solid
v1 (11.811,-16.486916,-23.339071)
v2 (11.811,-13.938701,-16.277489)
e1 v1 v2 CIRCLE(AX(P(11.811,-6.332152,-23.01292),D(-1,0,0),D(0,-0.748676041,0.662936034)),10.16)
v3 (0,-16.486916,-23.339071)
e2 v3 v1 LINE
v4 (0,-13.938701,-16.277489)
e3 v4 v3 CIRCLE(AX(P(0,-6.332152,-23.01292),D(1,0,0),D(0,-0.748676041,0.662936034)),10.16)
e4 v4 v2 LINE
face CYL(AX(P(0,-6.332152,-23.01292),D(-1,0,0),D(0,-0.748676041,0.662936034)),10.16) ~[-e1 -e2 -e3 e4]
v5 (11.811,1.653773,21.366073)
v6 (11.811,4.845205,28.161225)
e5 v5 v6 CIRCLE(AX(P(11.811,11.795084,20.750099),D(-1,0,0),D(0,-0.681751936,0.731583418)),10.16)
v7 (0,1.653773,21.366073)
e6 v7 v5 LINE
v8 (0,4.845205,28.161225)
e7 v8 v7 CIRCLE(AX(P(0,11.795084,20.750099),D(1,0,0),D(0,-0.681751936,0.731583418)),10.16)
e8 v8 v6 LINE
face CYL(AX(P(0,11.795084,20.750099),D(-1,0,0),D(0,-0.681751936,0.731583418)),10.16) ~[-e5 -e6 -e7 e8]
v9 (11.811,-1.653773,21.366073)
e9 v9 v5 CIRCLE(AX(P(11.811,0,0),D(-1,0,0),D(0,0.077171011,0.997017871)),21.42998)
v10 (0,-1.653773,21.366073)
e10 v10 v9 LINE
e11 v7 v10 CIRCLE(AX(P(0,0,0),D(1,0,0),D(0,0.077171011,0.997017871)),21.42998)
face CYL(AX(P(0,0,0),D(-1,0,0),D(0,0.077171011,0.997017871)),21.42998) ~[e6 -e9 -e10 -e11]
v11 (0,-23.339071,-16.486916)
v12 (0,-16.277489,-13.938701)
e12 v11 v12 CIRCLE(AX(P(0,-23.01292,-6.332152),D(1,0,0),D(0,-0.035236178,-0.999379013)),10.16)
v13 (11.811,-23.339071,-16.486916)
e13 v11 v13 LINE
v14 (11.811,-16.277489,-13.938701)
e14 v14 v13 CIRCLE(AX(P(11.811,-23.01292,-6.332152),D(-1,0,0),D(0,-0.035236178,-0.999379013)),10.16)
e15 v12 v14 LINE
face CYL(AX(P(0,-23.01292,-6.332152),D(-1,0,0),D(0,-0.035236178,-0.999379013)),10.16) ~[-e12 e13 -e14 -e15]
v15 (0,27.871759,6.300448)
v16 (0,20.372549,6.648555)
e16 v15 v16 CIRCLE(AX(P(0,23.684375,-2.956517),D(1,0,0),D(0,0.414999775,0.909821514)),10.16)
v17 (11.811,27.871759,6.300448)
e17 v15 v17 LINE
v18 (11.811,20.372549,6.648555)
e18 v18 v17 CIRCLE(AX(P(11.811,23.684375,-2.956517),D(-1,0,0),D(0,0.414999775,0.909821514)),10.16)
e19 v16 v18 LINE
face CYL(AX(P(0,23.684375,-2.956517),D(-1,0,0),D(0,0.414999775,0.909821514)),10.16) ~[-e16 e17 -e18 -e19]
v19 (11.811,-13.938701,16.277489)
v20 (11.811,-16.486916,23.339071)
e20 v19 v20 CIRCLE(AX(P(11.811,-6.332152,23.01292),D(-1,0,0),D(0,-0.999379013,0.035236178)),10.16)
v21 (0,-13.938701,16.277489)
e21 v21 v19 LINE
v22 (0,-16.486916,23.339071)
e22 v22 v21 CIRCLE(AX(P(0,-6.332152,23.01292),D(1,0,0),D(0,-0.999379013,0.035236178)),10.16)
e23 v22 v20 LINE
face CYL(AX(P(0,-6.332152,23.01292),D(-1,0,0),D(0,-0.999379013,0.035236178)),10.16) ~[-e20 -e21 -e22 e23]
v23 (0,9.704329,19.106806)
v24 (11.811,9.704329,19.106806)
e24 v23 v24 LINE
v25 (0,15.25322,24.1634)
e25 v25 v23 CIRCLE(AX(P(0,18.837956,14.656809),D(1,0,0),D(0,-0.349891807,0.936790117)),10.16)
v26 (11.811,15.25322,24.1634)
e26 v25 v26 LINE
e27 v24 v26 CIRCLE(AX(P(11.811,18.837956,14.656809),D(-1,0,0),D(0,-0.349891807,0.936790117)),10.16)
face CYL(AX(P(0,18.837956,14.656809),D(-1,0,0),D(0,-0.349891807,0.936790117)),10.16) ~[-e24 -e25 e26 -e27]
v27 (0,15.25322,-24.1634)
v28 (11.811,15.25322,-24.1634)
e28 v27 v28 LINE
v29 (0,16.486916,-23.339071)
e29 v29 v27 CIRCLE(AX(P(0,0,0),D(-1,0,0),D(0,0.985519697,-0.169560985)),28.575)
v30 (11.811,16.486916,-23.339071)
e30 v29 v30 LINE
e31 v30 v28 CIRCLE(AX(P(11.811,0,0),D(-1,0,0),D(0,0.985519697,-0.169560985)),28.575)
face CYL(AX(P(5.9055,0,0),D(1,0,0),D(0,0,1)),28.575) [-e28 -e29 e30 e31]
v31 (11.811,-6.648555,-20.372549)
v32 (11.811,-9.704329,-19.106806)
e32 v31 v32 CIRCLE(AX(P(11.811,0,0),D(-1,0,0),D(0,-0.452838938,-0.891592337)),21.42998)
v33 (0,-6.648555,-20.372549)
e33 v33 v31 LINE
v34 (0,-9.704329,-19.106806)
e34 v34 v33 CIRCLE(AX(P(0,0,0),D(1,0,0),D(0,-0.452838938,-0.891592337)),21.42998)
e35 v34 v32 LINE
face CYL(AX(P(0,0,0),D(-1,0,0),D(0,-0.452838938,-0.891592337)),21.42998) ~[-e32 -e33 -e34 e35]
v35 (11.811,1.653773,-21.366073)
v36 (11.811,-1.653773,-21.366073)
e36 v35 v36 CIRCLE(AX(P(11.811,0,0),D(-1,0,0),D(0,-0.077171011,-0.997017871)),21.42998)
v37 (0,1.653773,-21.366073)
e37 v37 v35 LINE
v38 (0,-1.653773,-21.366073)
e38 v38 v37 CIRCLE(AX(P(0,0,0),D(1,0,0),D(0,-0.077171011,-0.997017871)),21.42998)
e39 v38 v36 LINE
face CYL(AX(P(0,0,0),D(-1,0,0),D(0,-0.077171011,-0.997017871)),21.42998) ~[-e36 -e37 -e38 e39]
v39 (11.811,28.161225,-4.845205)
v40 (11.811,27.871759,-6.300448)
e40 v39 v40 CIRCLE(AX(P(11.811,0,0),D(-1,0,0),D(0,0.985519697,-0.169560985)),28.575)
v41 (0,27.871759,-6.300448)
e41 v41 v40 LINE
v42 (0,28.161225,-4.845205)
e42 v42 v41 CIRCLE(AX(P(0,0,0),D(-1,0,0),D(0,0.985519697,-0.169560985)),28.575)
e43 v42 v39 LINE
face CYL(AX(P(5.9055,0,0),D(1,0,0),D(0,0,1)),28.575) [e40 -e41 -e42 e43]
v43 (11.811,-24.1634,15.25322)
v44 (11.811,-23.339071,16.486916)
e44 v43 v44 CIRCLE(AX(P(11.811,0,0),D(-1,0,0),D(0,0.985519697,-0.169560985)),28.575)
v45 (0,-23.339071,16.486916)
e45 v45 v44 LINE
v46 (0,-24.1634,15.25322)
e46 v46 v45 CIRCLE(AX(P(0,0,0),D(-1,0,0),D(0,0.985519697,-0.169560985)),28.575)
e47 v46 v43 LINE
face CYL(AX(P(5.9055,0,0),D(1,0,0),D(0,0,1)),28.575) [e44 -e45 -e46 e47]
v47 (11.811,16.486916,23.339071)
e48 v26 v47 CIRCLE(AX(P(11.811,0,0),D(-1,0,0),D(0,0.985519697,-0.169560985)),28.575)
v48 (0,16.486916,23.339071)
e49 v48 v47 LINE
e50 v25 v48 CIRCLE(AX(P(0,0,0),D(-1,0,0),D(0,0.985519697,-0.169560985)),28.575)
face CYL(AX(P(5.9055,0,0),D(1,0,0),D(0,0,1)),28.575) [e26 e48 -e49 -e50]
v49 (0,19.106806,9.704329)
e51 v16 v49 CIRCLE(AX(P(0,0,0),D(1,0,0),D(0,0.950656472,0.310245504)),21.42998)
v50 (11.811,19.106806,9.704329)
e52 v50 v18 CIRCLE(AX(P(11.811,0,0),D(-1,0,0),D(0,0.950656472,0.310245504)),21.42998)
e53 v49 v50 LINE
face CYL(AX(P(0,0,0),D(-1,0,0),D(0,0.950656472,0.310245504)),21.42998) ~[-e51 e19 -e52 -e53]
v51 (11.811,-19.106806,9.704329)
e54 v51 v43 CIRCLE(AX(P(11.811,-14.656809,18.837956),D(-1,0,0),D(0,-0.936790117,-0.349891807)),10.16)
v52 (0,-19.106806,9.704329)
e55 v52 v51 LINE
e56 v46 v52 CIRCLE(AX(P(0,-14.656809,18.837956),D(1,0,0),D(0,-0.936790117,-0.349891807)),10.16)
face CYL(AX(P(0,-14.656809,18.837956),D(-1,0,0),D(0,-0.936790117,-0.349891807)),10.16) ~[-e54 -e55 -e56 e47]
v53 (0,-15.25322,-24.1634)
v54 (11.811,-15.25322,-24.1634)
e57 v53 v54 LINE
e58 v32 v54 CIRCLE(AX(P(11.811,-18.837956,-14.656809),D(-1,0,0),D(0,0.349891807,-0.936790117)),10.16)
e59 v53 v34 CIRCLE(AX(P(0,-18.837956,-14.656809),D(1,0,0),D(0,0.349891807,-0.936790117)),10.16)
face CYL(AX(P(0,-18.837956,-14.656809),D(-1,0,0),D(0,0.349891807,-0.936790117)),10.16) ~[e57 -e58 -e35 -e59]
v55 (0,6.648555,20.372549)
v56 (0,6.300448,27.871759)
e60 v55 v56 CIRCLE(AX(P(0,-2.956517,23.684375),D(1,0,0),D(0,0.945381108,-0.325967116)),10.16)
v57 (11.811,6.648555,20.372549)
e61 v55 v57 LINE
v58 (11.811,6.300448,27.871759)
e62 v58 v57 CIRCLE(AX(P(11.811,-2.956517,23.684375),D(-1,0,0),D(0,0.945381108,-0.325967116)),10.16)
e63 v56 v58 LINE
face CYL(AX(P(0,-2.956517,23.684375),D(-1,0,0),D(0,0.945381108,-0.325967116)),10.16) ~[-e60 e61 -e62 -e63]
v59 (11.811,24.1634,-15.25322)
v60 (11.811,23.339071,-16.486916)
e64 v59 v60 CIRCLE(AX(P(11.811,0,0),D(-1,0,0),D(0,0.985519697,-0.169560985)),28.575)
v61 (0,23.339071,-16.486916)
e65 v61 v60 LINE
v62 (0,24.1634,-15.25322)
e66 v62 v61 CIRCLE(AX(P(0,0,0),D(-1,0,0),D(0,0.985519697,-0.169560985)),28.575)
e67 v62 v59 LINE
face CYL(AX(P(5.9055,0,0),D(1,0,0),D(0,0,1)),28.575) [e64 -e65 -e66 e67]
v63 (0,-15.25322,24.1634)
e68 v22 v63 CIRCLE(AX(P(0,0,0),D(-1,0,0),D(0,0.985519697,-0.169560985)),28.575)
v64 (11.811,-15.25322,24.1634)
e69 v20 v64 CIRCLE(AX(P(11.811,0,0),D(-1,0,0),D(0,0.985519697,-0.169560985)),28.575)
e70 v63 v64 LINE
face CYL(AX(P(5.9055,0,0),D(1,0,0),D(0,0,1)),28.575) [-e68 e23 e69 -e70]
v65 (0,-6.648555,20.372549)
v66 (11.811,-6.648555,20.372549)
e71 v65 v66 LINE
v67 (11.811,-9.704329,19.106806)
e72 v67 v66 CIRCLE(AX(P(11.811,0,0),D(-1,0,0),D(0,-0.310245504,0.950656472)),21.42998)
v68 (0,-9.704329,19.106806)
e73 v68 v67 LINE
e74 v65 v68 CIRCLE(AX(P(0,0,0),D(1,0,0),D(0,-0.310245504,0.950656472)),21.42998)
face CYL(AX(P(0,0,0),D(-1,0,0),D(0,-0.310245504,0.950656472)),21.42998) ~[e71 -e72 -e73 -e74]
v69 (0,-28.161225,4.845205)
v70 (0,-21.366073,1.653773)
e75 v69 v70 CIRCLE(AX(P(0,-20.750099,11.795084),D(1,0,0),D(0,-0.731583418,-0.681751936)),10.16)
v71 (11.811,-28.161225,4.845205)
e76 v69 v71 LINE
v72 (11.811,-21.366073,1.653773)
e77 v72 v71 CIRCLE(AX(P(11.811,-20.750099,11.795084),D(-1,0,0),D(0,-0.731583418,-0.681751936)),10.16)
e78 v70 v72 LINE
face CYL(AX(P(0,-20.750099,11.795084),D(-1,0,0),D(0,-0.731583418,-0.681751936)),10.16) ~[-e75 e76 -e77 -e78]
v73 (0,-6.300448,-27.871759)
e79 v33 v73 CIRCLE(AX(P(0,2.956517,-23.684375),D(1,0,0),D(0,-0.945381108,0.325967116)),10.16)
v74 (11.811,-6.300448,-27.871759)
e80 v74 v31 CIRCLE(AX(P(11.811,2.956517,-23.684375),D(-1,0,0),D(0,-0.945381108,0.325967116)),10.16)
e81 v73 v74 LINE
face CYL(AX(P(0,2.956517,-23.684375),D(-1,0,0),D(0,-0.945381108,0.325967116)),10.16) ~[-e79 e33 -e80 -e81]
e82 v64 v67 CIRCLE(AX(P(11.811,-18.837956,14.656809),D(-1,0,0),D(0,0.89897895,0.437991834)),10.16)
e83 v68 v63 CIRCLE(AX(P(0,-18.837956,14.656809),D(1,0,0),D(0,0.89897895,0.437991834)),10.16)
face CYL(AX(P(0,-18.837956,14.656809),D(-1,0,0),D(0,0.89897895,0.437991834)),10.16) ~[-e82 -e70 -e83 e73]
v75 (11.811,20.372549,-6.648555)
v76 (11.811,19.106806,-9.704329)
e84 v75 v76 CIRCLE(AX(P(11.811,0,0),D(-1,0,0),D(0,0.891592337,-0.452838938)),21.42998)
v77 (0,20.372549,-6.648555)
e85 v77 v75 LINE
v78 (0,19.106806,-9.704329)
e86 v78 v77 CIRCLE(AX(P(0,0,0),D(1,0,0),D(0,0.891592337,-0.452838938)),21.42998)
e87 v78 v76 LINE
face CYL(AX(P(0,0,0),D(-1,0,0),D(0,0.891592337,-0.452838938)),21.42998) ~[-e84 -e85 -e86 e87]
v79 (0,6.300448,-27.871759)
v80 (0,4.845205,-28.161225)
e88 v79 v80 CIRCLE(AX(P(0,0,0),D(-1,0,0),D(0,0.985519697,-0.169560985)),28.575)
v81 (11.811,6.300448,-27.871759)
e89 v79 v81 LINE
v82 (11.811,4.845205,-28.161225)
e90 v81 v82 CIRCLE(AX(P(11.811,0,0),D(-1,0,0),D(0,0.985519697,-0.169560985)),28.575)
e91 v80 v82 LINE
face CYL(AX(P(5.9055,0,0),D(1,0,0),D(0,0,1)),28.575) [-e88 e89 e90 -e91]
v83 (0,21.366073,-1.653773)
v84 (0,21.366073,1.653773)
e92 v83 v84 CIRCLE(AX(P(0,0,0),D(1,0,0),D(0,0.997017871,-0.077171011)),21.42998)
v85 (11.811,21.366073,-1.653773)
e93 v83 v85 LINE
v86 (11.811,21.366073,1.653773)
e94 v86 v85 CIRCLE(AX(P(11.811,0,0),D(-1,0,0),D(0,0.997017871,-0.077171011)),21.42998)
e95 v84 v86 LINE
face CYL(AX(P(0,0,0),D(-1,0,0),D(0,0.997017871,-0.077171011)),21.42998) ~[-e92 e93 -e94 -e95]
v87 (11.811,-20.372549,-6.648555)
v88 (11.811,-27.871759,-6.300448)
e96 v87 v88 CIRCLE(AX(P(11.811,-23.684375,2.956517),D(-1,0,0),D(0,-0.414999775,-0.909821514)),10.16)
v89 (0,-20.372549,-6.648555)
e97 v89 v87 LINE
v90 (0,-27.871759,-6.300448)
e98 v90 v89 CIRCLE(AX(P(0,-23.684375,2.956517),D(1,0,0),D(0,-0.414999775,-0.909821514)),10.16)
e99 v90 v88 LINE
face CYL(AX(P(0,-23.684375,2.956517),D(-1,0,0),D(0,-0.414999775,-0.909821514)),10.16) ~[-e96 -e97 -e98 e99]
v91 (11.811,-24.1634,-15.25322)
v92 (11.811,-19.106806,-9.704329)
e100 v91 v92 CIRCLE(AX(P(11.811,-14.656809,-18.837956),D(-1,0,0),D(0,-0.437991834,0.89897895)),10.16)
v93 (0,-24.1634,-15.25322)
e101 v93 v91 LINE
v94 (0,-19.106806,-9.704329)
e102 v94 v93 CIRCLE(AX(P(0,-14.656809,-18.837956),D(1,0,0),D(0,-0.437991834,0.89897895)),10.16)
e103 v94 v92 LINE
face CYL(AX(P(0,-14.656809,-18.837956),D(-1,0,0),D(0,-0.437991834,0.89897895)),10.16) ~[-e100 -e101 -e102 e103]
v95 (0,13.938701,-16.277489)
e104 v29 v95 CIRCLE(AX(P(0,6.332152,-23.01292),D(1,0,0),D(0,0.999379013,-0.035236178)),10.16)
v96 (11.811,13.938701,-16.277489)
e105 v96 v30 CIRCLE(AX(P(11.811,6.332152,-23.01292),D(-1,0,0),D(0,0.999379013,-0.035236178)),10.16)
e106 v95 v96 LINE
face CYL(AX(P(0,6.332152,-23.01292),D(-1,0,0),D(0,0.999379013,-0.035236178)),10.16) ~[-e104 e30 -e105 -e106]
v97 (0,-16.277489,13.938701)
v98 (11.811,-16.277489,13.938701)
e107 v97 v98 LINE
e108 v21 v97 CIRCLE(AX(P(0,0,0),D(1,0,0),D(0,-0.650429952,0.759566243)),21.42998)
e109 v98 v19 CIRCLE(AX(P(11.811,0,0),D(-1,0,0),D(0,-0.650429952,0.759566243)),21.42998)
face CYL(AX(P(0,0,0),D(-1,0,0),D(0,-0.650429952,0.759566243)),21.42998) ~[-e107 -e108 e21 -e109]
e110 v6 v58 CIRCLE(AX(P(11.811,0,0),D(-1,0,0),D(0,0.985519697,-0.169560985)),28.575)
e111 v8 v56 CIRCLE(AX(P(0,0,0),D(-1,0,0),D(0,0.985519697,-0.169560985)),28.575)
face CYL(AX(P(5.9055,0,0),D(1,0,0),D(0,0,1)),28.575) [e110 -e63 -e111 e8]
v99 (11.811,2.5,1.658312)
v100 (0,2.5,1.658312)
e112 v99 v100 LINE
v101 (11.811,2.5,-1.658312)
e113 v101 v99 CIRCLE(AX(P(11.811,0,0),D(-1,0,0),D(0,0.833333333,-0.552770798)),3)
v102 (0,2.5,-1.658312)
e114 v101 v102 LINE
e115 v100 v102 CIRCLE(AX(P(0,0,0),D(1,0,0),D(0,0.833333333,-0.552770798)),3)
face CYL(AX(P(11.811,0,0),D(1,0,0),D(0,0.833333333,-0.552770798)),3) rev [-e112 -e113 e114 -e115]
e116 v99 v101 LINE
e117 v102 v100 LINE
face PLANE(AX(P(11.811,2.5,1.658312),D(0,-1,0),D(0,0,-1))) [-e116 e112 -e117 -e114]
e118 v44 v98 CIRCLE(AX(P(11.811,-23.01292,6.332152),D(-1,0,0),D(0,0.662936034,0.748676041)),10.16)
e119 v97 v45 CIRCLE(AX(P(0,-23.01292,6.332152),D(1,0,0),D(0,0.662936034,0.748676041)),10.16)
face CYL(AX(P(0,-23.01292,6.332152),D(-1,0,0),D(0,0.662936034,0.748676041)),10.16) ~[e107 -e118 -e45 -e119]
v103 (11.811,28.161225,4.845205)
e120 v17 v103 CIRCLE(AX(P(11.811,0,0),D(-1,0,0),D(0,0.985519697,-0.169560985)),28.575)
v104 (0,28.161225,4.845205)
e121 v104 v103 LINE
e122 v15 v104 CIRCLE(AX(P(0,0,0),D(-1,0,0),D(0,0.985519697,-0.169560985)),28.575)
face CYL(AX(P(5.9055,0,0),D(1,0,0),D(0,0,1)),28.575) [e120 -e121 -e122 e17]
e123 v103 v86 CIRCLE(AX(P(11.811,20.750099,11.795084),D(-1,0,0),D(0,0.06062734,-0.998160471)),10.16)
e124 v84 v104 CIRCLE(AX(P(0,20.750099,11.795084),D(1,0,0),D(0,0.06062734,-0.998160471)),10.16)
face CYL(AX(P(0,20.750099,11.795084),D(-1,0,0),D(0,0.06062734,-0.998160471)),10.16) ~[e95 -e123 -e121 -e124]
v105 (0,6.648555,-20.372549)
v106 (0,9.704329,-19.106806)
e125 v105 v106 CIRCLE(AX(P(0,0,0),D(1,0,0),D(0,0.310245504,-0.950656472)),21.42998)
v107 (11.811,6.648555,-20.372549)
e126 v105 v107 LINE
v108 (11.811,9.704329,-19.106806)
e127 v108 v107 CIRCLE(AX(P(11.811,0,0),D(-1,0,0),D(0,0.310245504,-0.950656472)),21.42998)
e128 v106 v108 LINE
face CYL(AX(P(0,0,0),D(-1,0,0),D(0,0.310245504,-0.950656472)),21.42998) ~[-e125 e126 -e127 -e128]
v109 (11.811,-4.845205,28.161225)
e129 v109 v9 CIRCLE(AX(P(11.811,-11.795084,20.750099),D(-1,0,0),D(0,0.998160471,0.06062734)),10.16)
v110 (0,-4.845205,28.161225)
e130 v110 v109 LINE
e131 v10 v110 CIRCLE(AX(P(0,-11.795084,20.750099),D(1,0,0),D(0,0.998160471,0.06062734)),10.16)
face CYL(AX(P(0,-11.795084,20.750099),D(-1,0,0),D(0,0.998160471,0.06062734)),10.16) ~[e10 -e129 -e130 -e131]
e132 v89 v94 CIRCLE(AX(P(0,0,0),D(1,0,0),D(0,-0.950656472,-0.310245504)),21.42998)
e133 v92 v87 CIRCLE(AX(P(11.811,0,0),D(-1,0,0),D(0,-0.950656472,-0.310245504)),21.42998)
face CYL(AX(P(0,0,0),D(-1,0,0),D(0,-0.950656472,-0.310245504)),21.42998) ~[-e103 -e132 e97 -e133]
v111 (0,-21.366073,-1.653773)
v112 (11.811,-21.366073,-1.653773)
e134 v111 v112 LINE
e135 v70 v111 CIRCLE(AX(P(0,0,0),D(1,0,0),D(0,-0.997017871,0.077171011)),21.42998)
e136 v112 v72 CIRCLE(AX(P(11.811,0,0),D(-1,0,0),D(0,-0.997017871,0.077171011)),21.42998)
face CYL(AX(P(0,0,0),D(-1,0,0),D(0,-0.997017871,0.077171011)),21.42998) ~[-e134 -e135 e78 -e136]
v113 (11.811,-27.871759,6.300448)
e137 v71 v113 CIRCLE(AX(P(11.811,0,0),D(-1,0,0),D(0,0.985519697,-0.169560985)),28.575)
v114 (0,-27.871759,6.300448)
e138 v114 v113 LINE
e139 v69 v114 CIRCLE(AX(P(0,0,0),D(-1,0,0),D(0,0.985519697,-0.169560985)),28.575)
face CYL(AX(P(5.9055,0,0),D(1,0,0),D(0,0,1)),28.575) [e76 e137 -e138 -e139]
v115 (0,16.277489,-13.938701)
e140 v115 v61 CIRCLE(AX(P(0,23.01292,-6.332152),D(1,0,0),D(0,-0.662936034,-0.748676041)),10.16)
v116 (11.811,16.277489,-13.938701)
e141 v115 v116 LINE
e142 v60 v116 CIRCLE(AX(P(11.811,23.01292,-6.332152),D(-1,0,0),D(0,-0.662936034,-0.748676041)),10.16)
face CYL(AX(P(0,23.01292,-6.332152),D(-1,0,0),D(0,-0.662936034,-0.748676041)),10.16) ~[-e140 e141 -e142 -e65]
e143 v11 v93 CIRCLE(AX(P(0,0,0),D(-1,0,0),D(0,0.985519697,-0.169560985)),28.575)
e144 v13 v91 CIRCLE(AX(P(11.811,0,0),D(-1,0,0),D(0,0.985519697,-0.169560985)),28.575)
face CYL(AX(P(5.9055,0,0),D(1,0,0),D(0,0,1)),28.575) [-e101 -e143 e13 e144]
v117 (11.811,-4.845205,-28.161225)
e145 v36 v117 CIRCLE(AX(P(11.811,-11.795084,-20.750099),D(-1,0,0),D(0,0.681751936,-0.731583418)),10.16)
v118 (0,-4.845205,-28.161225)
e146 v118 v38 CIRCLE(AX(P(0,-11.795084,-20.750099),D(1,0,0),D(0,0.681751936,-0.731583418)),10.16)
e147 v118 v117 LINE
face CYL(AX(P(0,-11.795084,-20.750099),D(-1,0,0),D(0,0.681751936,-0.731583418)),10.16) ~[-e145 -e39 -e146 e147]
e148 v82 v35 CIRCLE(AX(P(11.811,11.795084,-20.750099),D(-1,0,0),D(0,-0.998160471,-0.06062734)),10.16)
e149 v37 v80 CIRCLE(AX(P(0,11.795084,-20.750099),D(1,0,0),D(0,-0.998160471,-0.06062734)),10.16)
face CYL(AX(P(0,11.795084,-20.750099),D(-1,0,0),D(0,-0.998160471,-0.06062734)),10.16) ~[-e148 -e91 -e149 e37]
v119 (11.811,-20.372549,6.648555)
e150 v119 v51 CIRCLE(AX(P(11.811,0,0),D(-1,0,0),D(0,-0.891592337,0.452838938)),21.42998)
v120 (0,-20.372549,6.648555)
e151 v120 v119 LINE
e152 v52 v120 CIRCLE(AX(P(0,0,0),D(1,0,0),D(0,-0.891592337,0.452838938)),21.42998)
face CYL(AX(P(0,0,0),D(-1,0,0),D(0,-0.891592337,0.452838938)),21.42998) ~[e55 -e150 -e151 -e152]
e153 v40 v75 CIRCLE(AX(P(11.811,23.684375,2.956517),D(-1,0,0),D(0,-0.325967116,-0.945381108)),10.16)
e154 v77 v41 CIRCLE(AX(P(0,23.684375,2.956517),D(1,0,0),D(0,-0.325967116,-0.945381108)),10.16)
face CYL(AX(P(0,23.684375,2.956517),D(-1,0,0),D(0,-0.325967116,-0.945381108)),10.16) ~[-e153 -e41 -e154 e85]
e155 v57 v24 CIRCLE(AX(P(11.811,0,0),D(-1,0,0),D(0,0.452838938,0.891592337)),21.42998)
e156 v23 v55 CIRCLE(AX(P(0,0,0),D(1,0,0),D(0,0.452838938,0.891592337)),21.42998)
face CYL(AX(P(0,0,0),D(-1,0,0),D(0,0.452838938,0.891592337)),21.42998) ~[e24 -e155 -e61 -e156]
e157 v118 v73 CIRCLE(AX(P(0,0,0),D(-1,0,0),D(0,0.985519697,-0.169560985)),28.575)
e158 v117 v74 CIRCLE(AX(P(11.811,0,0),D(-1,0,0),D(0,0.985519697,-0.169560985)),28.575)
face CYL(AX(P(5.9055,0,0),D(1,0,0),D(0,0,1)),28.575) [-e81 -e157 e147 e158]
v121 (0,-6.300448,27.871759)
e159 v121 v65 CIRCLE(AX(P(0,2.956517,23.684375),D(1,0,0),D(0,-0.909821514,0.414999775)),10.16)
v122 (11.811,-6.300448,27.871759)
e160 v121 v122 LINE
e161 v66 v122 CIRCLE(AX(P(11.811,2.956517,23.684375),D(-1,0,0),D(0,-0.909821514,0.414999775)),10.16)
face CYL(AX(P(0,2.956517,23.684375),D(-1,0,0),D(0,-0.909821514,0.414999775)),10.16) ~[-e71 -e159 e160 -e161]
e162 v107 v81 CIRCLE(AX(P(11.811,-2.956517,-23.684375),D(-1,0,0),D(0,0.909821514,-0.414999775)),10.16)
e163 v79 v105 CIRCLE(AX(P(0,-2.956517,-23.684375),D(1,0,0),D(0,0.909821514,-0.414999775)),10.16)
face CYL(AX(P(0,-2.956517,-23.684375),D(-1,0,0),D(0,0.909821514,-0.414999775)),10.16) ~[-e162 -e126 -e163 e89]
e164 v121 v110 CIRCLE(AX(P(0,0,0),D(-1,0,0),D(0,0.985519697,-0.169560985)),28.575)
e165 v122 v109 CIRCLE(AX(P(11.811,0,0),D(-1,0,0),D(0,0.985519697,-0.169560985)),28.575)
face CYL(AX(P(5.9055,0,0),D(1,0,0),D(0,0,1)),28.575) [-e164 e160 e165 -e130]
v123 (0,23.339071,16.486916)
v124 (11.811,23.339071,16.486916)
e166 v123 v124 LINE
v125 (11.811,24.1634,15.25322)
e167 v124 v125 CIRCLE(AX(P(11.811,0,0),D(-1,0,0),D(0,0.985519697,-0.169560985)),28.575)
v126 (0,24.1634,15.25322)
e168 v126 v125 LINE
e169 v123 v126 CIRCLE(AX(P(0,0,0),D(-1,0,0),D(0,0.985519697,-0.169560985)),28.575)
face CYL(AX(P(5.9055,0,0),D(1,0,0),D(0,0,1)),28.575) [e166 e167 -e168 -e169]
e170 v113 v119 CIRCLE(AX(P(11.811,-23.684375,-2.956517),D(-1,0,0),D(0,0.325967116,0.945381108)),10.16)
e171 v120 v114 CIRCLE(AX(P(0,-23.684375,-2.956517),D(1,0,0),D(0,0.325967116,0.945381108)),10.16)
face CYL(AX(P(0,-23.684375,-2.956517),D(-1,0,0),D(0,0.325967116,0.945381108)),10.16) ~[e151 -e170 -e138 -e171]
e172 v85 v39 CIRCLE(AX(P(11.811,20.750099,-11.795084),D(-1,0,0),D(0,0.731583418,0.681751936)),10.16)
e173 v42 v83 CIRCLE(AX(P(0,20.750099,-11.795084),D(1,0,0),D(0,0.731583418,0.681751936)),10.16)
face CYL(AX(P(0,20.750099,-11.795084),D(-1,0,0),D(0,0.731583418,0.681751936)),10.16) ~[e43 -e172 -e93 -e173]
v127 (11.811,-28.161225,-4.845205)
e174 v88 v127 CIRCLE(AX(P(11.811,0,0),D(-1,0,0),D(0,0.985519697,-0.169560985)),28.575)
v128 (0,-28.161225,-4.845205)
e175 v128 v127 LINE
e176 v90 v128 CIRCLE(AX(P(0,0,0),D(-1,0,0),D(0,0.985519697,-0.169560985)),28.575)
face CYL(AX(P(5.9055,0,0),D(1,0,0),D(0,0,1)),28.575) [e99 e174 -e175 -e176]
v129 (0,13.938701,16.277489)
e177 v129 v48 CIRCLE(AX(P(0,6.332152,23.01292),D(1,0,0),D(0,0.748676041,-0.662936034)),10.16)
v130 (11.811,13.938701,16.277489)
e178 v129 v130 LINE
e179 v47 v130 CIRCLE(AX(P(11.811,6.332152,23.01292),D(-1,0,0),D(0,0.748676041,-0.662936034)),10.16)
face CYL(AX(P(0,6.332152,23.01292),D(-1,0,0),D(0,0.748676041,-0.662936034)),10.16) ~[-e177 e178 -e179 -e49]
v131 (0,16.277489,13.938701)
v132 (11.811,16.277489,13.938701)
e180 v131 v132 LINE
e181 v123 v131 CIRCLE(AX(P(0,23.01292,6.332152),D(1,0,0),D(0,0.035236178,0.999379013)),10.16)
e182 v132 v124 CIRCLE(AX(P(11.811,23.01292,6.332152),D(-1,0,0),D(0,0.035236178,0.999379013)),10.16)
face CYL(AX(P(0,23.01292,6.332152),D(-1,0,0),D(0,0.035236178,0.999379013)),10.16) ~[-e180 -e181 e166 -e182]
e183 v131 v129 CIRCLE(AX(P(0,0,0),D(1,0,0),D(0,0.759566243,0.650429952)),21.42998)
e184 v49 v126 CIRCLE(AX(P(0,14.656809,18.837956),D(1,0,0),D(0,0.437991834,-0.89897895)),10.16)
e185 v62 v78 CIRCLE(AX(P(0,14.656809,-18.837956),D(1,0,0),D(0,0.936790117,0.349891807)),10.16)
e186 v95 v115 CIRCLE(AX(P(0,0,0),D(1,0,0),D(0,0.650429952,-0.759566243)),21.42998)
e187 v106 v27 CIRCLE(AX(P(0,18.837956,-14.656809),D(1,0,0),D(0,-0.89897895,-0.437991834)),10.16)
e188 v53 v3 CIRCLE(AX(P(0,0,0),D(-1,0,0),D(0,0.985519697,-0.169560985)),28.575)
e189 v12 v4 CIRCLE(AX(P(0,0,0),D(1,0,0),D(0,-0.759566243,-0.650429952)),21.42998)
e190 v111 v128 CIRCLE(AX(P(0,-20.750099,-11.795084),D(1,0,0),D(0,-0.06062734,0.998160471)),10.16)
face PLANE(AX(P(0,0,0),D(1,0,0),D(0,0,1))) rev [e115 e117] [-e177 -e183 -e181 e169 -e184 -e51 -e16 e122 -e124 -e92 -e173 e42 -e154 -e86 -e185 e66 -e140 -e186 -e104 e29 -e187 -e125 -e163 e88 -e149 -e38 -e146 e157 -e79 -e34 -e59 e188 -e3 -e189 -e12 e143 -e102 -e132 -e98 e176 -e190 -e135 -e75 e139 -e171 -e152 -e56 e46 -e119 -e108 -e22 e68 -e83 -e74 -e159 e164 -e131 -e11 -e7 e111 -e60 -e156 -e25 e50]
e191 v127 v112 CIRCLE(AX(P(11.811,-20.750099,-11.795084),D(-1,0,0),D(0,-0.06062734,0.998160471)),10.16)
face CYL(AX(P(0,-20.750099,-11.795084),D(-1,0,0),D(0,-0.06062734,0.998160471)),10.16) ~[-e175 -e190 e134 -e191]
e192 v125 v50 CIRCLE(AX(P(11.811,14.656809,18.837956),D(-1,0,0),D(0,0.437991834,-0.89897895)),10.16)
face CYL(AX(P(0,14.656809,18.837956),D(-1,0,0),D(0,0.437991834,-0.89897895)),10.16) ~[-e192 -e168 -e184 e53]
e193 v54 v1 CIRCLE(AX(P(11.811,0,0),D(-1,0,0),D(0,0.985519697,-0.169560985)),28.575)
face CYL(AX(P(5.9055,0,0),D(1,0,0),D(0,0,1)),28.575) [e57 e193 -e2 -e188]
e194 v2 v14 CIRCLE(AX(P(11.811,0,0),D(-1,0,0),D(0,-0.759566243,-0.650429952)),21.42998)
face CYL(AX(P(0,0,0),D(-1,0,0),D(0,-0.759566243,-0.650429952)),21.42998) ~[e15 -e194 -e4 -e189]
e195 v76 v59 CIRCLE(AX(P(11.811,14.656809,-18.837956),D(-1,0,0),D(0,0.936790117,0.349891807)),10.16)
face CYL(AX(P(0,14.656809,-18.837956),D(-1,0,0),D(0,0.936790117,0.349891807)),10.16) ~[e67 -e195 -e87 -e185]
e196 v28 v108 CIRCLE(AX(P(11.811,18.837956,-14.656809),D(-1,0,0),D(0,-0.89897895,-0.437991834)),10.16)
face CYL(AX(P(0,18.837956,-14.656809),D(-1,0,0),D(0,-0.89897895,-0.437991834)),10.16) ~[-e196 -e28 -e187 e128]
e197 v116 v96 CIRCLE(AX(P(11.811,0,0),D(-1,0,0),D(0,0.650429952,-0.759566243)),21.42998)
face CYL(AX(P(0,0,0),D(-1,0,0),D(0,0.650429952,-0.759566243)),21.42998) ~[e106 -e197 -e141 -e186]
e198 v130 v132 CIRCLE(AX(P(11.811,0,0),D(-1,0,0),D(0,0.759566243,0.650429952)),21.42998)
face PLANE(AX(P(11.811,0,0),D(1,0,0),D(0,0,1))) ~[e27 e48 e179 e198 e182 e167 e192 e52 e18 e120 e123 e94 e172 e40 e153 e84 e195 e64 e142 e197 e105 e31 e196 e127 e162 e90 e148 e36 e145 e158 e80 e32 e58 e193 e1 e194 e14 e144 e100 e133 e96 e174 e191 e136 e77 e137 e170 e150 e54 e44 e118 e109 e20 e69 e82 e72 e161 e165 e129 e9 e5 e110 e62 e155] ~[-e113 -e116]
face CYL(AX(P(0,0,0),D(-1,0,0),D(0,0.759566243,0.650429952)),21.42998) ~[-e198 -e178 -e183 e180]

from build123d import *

# Parameters (mm, degrees)
BASPROSKE_W        = 11.811
BASPROSKE_H        = 28.575
TOOTHCUT_DEPTH     = 43.101792967
TEETHCUTS_COUNT    = 16
TEETHCUTS_ANGLE    = 337.5
BORSKE_R           = 0.396875
BORE_DEPTH         = 50.8000508
CUT_EXTRUDE1_DEPTH = 42.540449503


with BuildPart() as part:
    # BasProSke → Base-Revolve (revolve)
    with BuildSketch(Plane(origin=(0, 0, 0), x_dir=(1, 0, 0), z_dir=(0, 1, 0)), mode=Mode.PRIVATE) as base_revolve_sk:
        with Locations((5.9055, 14.2875)):
            Rectangle(BASPROSKE_W, BASPROSKE_H)
    revolve(base_revolve_sk.sketch.rotate(Axis((-10, 0, 0), (1, 0, 0)), 180), axis=Axis((-10, 0, 0), (1, 0, 0)))

    # TooCutSke → ToothCut (cut, through all)
    with BuildSketch(Plane(origin=(0, 0, 0), x_dir=(0, 0, -1), z_dir=(1, 0, 0))):
        with BuildLine():
            ThreePointArc((1.653773222, 21.366073035), (0, 21.42998), (-1.653773222, 21.366073035))
            ThreePointArc((-1.653773222, 21.366073035), (-2.605634946, 25.083646688), (-4.868483936, 28.182986789))
            ThreePointArc((-4.868483936, 28.182986789), (0, 28.6004), (4.868483936, 28.182986789))
            ThreePointArc((4.868483936, 28.182986789), (2.605634946, 25.083646688), (1.653773222, 21.366073035))
        make_face()
    toothcut = extrude(amount=TOOTHCUT_DEPTH, mode=Mode.SUBTRACT)

    # TeethCuts: ToothCut ×16 about axis
    teethcuts_axis = Axis((-10, 0, 0), (1, 0, 0))
    for i in range(1, TEETHCUTS_COUNT):
        add(toothcut.rotate(teethcuts_axis, i * TEETHCUTS_ANGLE / (TEETHCUTS_COUNT - 1)), mode=Mode.SUBTRACT)

    # BorSke → Bore (cut, symmetric)
    with BuildSketch(Plane(origin=(0, 0, 0), x_dir=(0, 0, -1), z_dir=(1, 0, 0))):
        with Locations(Location((0, 0, 0), (0, 0, 180))):
            Circle(BORSKE_R)
    extrude(amount=BORE_DEPTH, both=True, mode=Mode.SUBTRACT)

    # Sketch1 → Cut-Extrude1 (cut, through all)
    with BuildSketch(Plane(origin=(11.811, 0, 0), x_dir=(0, 0, -1), z_dir=(1, 0, 0))):
        with BuildLine():
            Line((-1.658312395, 2.5), (1.658312395, 2.5))
            ThreePointArc((1.658312395, 2.5), (0, -3), (-1.658312395, 2.5))
        make_face()
    extrude(amount=-CUT_EXTRUDE1_DEPTH, mode=Mode.SUBTRACT)


solid = part.part
